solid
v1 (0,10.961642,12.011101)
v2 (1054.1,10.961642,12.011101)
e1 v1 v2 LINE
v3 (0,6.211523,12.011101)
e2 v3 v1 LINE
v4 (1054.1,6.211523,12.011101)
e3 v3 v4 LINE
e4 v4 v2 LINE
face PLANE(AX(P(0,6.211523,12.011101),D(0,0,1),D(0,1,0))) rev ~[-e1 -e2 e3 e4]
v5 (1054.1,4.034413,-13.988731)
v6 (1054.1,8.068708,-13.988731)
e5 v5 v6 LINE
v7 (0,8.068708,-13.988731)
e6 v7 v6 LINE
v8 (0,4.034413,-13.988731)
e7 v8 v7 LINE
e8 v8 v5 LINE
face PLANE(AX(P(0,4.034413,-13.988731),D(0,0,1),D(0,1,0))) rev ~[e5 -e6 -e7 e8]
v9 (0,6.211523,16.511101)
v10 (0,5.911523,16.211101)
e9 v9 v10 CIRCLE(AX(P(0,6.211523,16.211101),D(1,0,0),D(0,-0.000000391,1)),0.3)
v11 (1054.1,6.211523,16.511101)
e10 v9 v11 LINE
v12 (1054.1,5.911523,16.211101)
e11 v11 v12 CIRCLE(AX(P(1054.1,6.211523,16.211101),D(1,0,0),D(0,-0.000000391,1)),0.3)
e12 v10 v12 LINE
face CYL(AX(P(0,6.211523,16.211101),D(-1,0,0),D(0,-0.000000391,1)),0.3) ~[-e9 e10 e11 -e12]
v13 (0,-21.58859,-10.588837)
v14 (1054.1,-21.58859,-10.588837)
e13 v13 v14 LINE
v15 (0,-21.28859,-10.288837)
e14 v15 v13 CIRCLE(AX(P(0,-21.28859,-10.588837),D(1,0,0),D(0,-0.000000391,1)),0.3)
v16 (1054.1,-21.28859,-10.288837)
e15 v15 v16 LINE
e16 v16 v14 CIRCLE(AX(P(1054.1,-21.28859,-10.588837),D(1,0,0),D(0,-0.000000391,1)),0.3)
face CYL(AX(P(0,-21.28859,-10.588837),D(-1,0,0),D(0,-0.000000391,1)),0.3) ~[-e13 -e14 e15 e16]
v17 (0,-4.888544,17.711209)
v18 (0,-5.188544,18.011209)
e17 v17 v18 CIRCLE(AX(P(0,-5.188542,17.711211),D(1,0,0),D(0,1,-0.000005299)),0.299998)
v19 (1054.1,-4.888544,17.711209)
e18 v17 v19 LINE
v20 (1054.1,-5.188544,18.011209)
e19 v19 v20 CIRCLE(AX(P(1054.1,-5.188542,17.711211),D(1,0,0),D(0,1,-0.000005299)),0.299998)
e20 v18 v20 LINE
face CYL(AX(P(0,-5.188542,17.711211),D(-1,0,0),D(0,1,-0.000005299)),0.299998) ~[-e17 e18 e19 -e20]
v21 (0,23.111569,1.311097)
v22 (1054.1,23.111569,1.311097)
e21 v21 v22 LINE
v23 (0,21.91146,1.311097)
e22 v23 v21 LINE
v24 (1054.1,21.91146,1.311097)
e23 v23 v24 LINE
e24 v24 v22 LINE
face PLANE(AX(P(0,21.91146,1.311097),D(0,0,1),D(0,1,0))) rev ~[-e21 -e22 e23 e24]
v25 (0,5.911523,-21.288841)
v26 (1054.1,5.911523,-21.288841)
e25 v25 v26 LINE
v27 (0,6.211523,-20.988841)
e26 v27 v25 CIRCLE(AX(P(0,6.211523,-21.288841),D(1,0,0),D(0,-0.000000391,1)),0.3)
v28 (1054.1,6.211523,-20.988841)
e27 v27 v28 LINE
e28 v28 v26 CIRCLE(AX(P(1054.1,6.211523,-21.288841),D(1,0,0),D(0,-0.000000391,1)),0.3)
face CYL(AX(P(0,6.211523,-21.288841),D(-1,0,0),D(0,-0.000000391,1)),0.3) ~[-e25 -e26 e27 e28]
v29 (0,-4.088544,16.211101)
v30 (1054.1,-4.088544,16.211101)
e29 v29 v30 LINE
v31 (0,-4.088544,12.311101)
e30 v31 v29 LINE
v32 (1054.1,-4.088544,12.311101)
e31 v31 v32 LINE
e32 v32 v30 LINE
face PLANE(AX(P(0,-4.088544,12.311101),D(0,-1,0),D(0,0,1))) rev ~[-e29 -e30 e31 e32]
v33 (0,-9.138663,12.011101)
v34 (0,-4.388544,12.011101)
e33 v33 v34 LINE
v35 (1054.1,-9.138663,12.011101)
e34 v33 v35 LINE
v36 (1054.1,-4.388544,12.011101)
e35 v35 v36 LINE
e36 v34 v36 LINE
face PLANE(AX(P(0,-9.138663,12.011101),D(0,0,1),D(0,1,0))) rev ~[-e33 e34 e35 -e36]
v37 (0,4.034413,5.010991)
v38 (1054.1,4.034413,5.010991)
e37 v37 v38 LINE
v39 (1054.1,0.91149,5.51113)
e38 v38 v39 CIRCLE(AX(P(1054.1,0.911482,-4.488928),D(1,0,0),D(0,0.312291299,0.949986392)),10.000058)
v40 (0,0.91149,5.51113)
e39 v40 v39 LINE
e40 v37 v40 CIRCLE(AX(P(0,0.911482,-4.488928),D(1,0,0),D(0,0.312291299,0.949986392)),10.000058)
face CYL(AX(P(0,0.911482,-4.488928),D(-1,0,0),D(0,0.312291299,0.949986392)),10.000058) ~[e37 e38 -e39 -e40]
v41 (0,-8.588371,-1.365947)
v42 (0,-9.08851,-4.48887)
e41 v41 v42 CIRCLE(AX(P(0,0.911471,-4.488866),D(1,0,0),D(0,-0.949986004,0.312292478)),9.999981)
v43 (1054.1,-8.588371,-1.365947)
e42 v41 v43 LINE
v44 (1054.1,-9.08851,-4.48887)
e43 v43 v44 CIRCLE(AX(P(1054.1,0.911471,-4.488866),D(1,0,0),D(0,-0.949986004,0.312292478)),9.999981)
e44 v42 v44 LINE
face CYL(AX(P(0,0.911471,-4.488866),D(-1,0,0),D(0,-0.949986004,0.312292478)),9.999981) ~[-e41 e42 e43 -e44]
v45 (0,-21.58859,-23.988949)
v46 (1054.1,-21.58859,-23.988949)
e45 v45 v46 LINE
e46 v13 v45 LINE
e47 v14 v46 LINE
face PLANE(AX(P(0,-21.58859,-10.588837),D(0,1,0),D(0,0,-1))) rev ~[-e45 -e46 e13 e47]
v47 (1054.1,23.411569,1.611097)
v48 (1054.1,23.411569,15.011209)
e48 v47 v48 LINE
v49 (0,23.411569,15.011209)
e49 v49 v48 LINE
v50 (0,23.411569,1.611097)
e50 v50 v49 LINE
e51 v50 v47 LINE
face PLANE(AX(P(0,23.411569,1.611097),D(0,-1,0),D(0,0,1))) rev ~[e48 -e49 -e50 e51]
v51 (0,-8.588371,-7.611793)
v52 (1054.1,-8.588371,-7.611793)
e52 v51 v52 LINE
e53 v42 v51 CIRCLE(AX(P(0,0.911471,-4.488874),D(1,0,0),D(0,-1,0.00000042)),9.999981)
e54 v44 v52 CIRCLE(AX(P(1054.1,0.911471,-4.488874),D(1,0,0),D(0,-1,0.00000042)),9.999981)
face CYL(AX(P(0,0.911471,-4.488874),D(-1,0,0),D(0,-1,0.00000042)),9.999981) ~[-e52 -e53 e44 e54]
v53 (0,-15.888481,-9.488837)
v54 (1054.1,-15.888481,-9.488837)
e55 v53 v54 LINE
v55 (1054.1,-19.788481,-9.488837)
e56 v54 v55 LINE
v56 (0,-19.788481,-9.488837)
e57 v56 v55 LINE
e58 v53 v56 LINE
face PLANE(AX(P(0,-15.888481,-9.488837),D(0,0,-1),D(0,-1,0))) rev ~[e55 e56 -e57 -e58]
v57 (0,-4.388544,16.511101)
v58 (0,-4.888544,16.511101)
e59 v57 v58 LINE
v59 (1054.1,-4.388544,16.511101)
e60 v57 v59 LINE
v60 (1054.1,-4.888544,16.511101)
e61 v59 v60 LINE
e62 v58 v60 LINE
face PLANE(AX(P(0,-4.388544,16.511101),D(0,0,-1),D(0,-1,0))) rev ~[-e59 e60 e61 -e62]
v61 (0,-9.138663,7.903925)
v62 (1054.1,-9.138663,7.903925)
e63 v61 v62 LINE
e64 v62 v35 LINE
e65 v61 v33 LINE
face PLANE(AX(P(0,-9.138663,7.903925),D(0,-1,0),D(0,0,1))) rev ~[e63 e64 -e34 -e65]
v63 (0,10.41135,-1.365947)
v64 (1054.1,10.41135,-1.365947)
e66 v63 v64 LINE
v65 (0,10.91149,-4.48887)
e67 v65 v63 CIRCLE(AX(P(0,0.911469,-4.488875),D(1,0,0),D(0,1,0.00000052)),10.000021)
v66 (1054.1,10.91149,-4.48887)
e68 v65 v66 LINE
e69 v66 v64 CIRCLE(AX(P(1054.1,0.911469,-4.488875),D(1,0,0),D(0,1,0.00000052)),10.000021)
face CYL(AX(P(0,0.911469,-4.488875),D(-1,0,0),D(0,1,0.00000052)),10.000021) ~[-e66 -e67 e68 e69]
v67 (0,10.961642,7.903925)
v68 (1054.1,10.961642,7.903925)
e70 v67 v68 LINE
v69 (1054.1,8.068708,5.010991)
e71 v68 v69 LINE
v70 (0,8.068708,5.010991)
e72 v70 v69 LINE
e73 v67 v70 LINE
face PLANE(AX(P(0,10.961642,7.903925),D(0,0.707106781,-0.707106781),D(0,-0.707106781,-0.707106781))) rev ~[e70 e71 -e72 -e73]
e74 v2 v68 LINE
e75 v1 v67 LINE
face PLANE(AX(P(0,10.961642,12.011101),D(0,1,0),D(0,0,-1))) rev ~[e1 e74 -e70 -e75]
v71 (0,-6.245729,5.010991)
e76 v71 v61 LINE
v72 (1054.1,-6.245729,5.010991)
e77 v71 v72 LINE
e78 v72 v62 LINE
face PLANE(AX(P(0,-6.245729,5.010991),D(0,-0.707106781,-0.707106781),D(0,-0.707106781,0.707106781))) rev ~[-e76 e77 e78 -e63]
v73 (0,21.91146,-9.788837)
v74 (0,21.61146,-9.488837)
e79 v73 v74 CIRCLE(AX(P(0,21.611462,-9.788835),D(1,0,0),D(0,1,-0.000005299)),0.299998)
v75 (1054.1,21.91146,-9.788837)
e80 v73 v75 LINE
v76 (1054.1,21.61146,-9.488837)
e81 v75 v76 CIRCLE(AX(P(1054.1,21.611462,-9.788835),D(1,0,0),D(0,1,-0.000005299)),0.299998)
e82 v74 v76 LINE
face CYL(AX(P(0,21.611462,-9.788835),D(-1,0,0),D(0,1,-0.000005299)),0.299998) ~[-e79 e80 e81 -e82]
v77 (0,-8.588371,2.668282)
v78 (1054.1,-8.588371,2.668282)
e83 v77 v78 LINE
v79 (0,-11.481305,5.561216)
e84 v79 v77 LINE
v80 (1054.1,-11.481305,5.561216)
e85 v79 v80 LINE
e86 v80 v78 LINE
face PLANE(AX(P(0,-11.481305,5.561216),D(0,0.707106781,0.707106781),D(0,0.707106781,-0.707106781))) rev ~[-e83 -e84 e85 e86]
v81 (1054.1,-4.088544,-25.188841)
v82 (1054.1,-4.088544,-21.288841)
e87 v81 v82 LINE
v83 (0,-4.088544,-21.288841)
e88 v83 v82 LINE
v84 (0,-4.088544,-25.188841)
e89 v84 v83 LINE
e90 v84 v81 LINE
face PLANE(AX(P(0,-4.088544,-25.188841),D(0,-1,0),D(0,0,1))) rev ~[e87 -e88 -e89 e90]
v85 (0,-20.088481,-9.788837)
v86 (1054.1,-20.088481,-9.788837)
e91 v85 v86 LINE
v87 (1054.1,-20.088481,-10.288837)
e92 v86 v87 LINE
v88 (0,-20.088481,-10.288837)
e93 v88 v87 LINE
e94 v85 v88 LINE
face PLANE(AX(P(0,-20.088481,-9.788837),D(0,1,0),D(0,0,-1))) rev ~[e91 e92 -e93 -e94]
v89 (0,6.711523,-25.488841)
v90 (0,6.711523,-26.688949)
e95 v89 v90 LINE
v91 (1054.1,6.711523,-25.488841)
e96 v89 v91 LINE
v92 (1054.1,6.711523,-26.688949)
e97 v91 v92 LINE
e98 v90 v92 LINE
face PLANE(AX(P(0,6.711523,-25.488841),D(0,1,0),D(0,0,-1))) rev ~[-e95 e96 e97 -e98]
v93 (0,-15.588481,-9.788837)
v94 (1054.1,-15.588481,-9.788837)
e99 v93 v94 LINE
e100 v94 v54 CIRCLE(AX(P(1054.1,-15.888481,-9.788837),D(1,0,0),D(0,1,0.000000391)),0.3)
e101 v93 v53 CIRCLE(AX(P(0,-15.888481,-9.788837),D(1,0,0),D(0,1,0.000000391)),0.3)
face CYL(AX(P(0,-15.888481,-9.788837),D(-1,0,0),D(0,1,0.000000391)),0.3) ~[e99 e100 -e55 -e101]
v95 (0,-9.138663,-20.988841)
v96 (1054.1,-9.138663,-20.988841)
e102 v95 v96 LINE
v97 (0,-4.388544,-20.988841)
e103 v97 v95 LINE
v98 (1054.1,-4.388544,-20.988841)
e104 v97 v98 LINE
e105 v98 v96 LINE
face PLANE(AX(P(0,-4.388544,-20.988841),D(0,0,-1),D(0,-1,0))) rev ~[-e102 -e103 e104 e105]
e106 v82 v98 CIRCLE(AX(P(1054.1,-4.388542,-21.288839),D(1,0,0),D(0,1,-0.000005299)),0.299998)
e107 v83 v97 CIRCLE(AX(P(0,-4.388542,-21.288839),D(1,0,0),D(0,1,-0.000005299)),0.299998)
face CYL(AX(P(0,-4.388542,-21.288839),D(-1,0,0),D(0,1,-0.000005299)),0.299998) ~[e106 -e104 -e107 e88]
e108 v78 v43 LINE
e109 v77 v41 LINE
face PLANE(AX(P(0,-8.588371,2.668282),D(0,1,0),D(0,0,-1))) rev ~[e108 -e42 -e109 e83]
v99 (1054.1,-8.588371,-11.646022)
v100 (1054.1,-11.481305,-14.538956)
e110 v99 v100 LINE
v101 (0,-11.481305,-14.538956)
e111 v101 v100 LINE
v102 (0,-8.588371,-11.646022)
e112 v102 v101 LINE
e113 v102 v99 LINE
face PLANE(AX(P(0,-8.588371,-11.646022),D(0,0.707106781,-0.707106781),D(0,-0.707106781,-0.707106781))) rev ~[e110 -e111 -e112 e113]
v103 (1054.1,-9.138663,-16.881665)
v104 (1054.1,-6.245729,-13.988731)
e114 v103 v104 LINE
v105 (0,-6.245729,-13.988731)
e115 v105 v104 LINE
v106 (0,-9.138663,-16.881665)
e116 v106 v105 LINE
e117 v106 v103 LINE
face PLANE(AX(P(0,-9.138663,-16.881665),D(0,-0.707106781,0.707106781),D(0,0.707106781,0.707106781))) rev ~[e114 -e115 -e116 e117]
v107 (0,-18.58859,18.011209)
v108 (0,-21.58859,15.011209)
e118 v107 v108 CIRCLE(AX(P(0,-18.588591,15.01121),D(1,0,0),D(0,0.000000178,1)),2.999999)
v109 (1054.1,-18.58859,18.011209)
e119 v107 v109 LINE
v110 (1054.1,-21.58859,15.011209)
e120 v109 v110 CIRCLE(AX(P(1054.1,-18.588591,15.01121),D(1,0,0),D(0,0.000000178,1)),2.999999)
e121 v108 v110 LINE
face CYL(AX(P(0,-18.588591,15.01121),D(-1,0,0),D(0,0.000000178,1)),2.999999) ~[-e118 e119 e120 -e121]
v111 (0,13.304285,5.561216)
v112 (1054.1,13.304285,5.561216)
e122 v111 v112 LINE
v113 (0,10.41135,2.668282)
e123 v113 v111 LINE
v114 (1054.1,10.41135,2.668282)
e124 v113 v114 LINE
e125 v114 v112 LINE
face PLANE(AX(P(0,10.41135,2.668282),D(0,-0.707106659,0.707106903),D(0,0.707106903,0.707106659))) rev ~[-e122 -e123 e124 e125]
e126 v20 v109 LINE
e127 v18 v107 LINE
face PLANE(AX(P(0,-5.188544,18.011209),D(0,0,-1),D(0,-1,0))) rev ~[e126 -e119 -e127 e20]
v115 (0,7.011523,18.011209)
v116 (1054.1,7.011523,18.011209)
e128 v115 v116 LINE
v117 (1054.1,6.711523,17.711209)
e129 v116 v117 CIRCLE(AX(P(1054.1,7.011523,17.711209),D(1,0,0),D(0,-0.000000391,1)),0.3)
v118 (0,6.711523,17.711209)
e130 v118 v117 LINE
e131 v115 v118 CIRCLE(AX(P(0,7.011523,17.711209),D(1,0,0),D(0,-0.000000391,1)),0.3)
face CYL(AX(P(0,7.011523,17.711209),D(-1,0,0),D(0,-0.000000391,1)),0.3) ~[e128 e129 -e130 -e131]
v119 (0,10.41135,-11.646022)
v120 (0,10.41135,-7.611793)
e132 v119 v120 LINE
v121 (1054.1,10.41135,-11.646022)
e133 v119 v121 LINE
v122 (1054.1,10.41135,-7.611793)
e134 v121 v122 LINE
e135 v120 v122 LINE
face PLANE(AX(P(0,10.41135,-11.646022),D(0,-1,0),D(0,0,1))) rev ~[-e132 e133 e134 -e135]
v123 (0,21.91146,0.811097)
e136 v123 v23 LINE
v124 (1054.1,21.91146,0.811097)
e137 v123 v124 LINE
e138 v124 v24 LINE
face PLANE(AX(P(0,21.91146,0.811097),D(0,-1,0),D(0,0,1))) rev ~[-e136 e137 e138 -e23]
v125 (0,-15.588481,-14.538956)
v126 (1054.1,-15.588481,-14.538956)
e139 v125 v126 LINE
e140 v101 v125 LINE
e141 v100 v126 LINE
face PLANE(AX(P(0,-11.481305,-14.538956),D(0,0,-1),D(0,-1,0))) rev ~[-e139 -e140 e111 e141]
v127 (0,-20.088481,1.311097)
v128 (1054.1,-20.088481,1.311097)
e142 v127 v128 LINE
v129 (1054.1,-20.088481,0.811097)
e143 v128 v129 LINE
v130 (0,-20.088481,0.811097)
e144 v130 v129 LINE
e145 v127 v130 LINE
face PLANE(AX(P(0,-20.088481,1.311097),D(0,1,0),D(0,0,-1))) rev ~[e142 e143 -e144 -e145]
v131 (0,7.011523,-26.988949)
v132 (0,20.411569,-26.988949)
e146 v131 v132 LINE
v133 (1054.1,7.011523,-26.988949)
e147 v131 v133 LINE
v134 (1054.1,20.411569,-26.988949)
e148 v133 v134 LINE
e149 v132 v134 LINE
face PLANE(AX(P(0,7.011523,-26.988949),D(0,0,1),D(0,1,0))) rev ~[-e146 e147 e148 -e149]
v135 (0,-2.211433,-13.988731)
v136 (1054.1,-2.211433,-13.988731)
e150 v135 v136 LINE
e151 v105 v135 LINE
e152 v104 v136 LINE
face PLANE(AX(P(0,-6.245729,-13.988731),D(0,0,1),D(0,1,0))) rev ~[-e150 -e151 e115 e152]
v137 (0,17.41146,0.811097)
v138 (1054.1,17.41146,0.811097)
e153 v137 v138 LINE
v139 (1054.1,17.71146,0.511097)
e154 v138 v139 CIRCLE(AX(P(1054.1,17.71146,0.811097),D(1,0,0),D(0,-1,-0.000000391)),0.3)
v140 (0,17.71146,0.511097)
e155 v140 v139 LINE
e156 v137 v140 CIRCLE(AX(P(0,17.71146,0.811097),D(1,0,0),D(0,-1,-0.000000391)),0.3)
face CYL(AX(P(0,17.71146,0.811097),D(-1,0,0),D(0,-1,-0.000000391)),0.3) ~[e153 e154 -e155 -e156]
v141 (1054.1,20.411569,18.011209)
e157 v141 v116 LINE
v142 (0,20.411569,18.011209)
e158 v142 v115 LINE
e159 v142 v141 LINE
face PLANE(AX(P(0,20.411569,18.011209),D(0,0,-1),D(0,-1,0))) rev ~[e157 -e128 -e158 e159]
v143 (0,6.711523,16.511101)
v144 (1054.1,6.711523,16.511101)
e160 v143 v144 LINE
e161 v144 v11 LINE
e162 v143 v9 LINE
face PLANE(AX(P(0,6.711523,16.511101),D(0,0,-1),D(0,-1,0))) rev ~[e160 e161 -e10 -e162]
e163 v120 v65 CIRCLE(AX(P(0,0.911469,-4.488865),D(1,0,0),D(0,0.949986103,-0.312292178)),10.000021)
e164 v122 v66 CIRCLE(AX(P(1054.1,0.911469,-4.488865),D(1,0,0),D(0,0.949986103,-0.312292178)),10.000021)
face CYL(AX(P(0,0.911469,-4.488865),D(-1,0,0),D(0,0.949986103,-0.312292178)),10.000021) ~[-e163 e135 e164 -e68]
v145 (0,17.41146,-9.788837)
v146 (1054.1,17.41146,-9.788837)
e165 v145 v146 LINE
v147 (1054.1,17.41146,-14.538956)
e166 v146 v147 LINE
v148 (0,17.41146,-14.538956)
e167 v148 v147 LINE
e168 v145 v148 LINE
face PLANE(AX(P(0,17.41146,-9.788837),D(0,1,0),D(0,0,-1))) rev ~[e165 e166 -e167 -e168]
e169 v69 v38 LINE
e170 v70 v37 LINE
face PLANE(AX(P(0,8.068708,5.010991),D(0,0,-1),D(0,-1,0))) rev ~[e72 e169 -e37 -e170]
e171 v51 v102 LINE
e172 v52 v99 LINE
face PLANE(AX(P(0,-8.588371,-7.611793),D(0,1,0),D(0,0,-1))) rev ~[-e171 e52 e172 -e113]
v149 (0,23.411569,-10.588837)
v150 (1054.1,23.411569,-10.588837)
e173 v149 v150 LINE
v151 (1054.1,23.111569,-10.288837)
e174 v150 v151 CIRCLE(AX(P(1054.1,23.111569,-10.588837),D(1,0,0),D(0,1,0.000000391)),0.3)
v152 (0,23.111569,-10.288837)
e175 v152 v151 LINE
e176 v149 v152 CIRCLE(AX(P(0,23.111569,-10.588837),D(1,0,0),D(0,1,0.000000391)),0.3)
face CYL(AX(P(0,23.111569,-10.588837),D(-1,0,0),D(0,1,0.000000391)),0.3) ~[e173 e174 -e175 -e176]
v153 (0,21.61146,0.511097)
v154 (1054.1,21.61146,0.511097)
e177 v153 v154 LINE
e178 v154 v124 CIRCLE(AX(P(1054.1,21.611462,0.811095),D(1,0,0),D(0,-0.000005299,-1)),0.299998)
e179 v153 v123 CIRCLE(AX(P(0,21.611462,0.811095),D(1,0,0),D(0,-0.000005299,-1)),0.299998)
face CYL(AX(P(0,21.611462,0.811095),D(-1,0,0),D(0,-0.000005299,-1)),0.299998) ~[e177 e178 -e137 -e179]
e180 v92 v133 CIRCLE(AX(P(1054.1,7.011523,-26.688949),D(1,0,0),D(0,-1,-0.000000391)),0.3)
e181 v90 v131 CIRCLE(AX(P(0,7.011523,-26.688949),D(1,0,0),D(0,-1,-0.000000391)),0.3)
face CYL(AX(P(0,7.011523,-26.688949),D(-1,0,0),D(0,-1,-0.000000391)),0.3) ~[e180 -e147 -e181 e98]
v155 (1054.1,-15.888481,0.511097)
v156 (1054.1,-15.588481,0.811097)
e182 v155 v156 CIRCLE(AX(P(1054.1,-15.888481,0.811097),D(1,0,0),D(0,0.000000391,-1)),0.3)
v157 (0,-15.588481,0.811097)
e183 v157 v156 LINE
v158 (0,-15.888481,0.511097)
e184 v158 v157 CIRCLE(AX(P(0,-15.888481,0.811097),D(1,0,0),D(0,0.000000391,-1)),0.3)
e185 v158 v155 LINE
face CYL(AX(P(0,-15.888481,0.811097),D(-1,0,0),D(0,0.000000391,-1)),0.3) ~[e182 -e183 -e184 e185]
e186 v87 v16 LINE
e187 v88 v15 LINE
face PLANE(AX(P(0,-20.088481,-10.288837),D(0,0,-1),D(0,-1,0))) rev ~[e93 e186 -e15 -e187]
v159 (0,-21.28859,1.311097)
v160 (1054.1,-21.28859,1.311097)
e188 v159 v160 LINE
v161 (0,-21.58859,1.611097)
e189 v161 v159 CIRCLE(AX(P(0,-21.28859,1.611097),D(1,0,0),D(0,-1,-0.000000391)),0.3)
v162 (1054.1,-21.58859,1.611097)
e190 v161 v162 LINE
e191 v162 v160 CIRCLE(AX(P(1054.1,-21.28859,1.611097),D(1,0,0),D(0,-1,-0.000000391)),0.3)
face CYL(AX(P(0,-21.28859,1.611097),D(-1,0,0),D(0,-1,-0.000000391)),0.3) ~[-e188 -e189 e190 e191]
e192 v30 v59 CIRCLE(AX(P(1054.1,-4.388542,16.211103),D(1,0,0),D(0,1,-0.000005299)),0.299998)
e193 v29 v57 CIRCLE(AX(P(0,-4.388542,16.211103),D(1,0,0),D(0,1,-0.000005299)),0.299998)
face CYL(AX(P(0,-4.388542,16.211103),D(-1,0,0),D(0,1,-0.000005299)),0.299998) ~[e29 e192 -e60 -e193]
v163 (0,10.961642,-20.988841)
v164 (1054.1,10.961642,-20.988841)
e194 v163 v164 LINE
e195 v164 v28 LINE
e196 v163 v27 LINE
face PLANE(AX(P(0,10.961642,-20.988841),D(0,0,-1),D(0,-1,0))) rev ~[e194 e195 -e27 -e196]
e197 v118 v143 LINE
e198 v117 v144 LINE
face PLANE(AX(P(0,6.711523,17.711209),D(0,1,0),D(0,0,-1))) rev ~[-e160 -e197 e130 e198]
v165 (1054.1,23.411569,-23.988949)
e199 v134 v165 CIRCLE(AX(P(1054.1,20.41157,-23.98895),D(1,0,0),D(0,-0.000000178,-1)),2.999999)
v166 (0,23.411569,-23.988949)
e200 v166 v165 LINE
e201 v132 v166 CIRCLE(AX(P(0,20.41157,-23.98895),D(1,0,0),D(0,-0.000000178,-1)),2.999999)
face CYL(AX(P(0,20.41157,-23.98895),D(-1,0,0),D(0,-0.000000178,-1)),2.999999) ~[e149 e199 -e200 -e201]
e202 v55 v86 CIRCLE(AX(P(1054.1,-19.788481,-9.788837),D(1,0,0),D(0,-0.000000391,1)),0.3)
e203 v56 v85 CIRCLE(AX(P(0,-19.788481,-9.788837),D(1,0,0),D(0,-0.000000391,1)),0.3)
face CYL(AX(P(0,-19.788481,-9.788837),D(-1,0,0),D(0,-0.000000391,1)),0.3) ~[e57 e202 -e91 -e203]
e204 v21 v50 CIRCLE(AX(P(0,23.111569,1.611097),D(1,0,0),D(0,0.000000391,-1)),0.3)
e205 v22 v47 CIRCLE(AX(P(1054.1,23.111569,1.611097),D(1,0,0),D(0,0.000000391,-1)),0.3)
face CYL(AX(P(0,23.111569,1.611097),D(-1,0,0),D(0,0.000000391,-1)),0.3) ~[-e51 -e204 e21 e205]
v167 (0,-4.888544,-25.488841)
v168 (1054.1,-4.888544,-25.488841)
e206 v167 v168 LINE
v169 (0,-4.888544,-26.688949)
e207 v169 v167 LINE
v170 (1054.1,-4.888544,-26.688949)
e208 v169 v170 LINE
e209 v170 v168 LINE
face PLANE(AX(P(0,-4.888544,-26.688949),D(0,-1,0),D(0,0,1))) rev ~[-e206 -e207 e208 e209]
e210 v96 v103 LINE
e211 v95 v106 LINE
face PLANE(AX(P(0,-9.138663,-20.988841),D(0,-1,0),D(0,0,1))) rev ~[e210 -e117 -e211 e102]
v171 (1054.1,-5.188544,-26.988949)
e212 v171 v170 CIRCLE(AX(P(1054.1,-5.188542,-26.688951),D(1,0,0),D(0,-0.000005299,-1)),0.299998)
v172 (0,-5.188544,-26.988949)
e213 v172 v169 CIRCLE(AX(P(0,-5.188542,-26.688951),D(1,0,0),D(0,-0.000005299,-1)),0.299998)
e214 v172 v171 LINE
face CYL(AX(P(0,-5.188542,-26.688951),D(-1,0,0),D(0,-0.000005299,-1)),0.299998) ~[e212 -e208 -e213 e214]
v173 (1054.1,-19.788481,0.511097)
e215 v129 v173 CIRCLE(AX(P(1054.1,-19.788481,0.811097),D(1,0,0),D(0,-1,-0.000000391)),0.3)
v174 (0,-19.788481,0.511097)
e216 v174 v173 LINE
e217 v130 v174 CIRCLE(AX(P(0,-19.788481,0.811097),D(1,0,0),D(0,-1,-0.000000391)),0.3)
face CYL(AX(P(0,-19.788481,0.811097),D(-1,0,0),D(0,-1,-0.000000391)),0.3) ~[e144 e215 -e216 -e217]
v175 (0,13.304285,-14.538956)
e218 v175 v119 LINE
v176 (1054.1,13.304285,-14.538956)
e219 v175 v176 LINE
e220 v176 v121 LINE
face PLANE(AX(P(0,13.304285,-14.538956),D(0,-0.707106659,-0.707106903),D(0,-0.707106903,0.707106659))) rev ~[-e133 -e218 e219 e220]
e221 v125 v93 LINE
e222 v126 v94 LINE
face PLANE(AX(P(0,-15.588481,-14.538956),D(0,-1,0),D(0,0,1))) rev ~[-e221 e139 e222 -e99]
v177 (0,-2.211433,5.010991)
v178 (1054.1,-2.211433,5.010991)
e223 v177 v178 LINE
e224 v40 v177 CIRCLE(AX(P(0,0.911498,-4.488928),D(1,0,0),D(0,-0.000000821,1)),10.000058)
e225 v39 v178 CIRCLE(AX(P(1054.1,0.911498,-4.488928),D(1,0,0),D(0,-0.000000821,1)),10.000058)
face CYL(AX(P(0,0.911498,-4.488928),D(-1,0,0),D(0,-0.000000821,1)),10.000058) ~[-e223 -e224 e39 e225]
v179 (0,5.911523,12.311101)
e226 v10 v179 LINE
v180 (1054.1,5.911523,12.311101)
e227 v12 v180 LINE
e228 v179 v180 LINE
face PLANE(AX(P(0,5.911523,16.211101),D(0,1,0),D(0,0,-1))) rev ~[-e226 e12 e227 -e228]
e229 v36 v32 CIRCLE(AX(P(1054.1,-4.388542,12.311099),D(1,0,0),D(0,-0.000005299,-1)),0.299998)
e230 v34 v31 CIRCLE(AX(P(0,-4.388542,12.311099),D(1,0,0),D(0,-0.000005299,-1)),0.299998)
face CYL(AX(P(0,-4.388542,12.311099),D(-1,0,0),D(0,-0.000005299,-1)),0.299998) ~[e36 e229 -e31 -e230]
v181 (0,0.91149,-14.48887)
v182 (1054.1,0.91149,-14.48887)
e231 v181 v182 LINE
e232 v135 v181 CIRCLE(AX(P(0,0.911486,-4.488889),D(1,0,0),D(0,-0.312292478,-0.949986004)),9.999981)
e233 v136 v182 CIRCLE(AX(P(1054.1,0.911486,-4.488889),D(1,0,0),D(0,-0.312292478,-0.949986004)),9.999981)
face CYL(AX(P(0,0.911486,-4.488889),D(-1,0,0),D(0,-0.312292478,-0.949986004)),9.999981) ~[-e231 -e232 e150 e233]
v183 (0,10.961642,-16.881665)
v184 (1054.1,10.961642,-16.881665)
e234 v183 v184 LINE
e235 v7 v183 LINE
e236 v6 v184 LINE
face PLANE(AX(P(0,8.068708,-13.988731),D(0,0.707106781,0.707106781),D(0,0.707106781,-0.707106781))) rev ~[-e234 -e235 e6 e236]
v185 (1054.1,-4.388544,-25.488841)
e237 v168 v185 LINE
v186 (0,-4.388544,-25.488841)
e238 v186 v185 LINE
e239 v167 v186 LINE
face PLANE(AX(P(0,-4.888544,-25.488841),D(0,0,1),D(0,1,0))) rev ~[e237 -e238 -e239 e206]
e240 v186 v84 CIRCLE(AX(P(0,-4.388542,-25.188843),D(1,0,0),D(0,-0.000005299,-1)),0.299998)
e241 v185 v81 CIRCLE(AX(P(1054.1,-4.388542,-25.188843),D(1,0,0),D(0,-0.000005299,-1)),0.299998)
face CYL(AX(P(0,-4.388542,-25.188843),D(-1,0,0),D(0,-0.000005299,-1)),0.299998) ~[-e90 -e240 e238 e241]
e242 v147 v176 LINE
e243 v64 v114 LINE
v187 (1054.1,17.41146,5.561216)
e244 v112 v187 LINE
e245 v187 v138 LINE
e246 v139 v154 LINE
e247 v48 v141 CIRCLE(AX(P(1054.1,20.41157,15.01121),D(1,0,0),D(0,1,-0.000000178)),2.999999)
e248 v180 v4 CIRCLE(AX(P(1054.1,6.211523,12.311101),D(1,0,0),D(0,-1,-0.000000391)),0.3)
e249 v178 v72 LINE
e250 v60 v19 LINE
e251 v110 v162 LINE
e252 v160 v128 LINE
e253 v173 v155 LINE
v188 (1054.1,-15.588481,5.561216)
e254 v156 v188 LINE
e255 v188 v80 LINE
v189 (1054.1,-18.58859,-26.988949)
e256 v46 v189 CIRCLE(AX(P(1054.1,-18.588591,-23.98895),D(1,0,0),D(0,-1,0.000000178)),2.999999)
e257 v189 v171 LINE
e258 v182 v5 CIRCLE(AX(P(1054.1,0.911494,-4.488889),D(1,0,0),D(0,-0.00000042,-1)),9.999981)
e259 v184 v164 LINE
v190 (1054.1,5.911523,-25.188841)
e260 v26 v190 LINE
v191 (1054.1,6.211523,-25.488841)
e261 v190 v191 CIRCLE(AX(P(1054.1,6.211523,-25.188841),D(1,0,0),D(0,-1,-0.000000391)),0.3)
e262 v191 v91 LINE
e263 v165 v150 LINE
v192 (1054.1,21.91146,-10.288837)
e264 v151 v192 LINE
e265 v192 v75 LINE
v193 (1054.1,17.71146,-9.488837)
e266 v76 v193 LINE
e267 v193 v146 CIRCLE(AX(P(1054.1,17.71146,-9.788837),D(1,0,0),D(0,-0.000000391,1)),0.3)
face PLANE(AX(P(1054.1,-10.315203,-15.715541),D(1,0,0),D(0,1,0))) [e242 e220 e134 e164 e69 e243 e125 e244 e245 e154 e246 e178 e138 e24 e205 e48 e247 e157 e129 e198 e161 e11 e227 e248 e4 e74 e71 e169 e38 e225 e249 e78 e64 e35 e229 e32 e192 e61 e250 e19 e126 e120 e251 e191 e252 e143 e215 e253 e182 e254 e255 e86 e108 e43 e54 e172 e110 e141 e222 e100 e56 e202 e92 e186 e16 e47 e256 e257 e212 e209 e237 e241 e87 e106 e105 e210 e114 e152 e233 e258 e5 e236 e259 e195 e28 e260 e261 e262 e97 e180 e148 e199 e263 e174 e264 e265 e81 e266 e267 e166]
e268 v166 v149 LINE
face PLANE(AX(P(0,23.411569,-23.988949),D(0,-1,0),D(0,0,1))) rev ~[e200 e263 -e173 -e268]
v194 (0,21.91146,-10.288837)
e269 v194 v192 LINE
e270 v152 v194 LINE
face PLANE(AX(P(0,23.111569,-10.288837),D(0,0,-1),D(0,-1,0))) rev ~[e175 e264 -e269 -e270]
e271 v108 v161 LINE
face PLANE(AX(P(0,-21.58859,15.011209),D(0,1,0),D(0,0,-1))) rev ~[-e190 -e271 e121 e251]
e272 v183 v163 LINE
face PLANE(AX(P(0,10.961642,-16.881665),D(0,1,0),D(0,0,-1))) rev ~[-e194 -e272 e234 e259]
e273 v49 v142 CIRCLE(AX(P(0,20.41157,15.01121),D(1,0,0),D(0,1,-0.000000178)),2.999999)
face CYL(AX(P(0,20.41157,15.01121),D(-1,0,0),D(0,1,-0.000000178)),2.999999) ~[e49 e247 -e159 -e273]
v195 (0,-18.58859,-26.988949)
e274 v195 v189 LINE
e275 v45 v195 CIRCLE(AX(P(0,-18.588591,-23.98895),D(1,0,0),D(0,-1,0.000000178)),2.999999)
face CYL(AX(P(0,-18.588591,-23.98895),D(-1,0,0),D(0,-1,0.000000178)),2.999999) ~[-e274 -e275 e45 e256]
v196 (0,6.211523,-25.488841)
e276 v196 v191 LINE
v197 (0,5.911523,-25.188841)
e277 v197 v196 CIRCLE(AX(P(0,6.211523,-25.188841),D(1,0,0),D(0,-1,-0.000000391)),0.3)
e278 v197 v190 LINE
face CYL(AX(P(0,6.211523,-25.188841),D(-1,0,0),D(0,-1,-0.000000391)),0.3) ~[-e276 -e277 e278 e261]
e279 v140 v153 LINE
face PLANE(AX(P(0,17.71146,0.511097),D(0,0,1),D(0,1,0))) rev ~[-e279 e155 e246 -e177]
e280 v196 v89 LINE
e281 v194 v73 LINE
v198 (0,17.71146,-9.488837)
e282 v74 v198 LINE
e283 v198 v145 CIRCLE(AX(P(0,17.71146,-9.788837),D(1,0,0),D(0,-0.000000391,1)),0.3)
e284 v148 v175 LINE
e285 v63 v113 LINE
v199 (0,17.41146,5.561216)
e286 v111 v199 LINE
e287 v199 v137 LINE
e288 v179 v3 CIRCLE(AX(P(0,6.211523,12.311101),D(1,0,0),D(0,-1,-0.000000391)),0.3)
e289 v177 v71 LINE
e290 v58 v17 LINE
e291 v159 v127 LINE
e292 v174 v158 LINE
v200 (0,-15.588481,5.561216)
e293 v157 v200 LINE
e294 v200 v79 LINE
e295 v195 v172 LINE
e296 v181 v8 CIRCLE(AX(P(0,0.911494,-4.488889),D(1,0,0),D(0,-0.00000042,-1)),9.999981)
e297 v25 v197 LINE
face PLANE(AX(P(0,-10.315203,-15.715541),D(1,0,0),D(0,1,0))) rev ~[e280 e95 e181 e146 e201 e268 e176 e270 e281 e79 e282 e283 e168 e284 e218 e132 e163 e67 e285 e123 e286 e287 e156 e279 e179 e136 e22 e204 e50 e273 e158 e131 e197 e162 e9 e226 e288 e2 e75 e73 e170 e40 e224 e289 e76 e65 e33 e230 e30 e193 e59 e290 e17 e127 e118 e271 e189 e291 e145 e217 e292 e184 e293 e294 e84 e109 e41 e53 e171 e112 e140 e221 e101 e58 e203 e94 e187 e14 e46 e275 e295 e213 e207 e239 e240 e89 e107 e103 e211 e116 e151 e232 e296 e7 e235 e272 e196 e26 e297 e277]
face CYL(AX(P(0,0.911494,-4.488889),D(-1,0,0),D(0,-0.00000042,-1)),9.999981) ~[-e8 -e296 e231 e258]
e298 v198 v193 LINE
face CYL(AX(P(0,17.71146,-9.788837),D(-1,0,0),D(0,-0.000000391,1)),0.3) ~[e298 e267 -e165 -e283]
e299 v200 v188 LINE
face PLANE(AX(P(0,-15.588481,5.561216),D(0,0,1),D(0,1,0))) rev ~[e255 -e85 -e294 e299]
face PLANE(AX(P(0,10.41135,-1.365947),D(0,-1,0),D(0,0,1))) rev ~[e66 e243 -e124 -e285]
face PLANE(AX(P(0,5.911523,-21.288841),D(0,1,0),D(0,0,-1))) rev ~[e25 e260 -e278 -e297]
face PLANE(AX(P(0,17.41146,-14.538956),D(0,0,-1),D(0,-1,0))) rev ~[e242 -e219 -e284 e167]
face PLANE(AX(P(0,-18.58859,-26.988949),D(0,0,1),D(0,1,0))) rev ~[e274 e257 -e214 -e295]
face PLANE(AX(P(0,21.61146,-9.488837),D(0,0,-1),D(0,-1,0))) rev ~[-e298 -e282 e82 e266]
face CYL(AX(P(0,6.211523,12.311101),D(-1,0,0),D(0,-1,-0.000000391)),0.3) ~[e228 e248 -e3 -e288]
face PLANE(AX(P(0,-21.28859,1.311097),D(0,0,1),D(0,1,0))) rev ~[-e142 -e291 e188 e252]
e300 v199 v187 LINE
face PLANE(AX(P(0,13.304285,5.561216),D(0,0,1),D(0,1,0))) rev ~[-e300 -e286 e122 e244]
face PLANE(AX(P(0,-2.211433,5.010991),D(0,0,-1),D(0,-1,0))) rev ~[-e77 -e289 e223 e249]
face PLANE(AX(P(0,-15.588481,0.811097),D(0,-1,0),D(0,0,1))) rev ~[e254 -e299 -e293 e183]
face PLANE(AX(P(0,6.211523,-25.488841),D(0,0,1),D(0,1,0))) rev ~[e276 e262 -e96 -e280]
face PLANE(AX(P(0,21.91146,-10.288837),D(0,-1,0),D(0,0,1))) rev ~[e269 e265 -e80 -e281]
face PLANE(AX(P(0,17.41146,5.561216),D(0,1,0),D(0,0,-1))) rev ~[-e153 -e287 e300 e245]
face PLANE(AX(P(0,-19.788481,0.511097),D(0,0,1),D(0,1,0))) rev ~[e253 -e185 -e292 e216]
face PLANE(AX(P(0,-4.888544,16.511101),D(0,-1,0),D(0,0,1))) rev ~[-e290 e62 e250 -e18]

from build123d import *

# Parameters (mm, degrees)
F1_DEPTH = 1054.1


with BuildPart() as f1:
    # F0 (on Right) → F1 (new body)
    with BuildSketch(Plane.YZ):
        with BuildLine():
            Line((-20.088481, -9.788837), (-20.088481, -10.288837))
            Line((-20.088481, -10.288837), (-21.28859, -10.288837))
            ThreePointArc((-21.28859, -10.288837), (-21.500722, -10.376705), (-21.58859, -10.588837))
            Line((-21.58859, -10.588837), (-21.58859, -23.988949))
            ThreePointArc((-21.58859, -23.988949), (-20.70991, -26.11027), (-18.58859, -26.988949))
            Line((-18.58859, -26.988949), (-5.188544, -26.988949))
            ThreePointArc((-5.188544, -26.988949), (-4.976411, -26.901081), (-4.888544, -26.688949))
            Line((-4.888544, -26.688949), (-4.888544, -25.488841))
            Line((-4.888544, -25.488841), (-4.388544, -25.488841))
            ThreePointArc((-4.388544, -25.488841), (-4.176411, -25.400973), (-4.088544, -25.188841))
            Line((-4.088544, -25.188841), (-4.088544, -21.288841))
            ThreePointArc((-4.088544, -21.288841), (-4.176411, -21.076709), (-4.388544, -20.988841))
            Line((-4.388544, -20.988841), (-9.138663, -20.988841))
            Line((-9.138663, -20.988841), (-9.138663, -16.881665))
            Line((-9.138663, -16.881665), (-6.245729, -13.988731))
            Line((-6.245729, -13.988731), (-2.211433, -13.988731))
            ThreePointArc((-2.211433, -13.988731), (-0.669869, -14.363044), (0.91149, -14.48887))
            Line((0.91149, -14.48887), (0.91149, -4.48887))
            Line((0.91149, -4.48887), (-9.08851, -4.48887))
            ThreePointArc((-9.08851, -4.48887), (-8.962684, -6.070229), (-8.588371, -7.611793))
            Line((-8.588371, -7.611793), (-8.588371, -11.646022))
            Line((-8.588371, -11.646022), (-11.481305, -14.538956))
            Line((-11.481305, -14.538956), (-15.588481, -14.538956))
            Line((-15.588481, -14.538956), (-15.588481, -9.788837))
            ThreePointArc((-15.588481, -9.788837), (-15.676349, -9.576705), (-15.888481, -9.488837))
            Line((-15.888481, -9.488837), (-19.788481, -9.488837))
            ThreePointArc((-19.788481, -9.488837), (-20.000613, -9.576705), (-20.088481, -9.788837))
        make_face()
        with BuildLine():
            ThreePointArc((-8.588371, -1.365947), (-8.962684, -2.907511), (-9.08851, -4.48887))
            Line((-9.08851, -4.48887), (0.91149, -4.48887))
            Line((0.91149, -4.48887), (0.91149, 5.51113))
            ThreePointArc((0.91149, 5.51113), (-0.669869, 5.385303), (-2.211433, 5.010991))
            Line((-2.211433, 5.010991), (-6.245729, 5.010991))
            Line((-6.245729, 5.010991), (-9.138663, 7.903925))
            Line((-9.138663, 7.903925), (-9.138663, 12.011101))
            Line((-9.138663, 12.011101), (-4.388544, 12.011101))
            ThreePointArc((-4.388544, 12.011101), (-4.176411, 12.098969), (-4.088544, 12.311101))
            Line((-4.088544, 12.311101), (-4.088544, 16.211101))
            ThreePointArc((-4.088544, 16.211101), (-4.176411, 16.423233), (-4.388544, 16.511101))
            Line((-4.388544, 16.511101), (-4.888544, 16.511101))
            Line((-4.888544, 16.511101), (-4.888544, 17.711209))
            ThreePointArc((-4.888544, 17.711209), (-4.976411, 17.923341), (-5.188544, 18.011209))
            Line((-5.188544, 18.011209), (-18.58859, 18.011209))
            ThreePointArc((-18.58859, 18.011209), (-20.70991, 17.13253), (-21.58859, 15.011209))
            Line((-21.58859, 15.011209), (-21.58859, 1.611097))
            ThreePointArc((-21.58859, 1.611097), (-21.500722, 1.398965), (-21.28859, 1.311097))
            Line((-21.28859, 1.311097), (-20.088481, 1.311097))
            Line((-20.088481, 1.311097), (-20.088481, 0.811097))
            ThreePointArc((-20.088481, 0.811097), (-20.000613, 0.598965), (-19.788481, 0.511097))
            Line((-19.788481, 0.511097), (-15.888481, 0.511097))
            ThreePointArc((-15.888481, 0.511097), (-15.676349, 0.598965), (-15.588481, 0.811097))
            Line((-15.588481, 0.811097), (-15.588481, 5.561216))
            Line((-15.588481, 5.561216), (-11.481305, 5.561216))
            Line((-11.481305, 5.561216), (-8.588371, 2.668282))
            Line((-8.588371, 2.668282), (-8.588371, -1.365947))
        make_face()
        with BuildLine():
            Line((0.91149, 5.51113), (0.91149, -4.48887))
            Line((0.91149, -4.48887), (10.91149, -4.48887))
            ThreePointArc((10.91149, -4.48887), (10.785663, -2.907511), (10.41135, -1.365947))
            Line((10.41135, -1.365947), (10.41135, 2.668282))
            Line((10.41135, 2.668282), (13.304285, 5.561216))
            Line((13.304285, 5.561216), (14.016842, 5.561216))
            Line((14.016842, 5.561216), (17.41146, 5.561216))
            Line((17.41146, 5.561216), (17.41146, 0.811097))
            ThreePointArc((17.41146, 0.811097), (17.499328, 0.598965), (17.71146, 0.511097))
            Line((17.71146, 0.511097), (21.61146, 0.511097))
            ThreePointArc((21.61146, 0.511097), (21.823593, 0.598965), (21.91146, 0.811097))
            Line((21.91146, 0.811097), (21.91146, 1.311097))
            Line((21.91146, 1.311097), (23.111569, 1.311097))
            ThreePointArc((23.111569, 1.311097), (23.323701, 1.398965), (23.411569, 1.611097))
            Line((23.411569, 1.611097), (23.411569, 15.011209))
            ThreePointArc((23.411569, 15.011209), (22.532889, 17.13253), (20.411569, 18.011209))
            Line((20.411569, 18.011209), (7.011523, 18.011209))
            ThreePointArc((7.011523, 18.011209), (6.799391, 17.923341), (6.711523, 17.711209))
            Line((6.711523, 17.711209), (6.711523, 16.511101))
            Line((6.711523, 16.511101), (6.211523, 16.511101))
            ThreePointArc((6.211523, 16.511101), (5.999391, 16.423233), (5.911523, 16.211101))
            Line((5.911523, 16.211101), (5.911523, 12.311101))
            ThreePointArc((5.911523, 12.311101), (5.999391, 12.098969), (6.211523, 12.011101))
            Line((6.211523, 12.011101), (10.961642, 12.011101))
            Line((10.961642, 12.011101), (10.961642, 7.903925))
            Line((10.961642, 7.903925), (8.068708, 5.010991))
            Line((8.068708, 5.010991), (4.034413, 5.010991))
            ThreePointArc((4.034413, 5.010991), (2.492849, 5.385303), (0.91149, 5.51113))
        make_face()
        with BuildLine():
            Line((10.91149, -4.48887), (0.91149, -4.48887))
            Line((0.91149, -4.48887), (0.91149, -14.48887))
            ThreePointArc((0.91149, -14.48887), (2.492849, -14.363044), (4.034413, -13.988731))
            Line((4.034413, -13.988731), (8.068708, -13.988731))
            Line((8.068708, -13.988731), (10.961642, -16.881665))
            Line((10.961642, -16.881665), (10.961642, -20.988841))
            Line((10.961642, -20.988841), (6.211523, -20.988841))
            ThreePointArc((6.211523, -20.988841), (5.999391, -21.076709), (5.911523, -21.288841))
            Line((5.911523, -21.288841), (5.911523, -25.188841))
            ThreePointArc((5.911523, -25.188841), (5.999391, -25.400973), (6.211523, -25.488841))
            Line((6.211523, -25.488841), (6.711523, -25.488841))
            Line((6.711523, -25.488841), (6.711523, -26.688949))
            ThreePointArc((6.711523, -26.688949), (6.799391, -26.901081), (7.011523, -26.988949))
            Line((7.011523, -26.988949), (20.411569, -26.988949))
            ThreePointArc((20.411569, -26.988949), (22.532889, -26.11027), (23.411569, -23.988949))
            Line((23.411569, -23.988949), (23.411569, -10.588837))
            ThreePointArc((23.411569, -10.588837), (23.323701, -10.376705), (23.111569, -10.288837))
            Line((23.111569, -10.288837), (21.91146, -10.288837))
            Line((21.91146, -10.288837), (21.91146, -9.788837))
            ThreePointArc((21.91146, -9.788837), (21.823593, -9.576705), (21.61146, -9.488837))
            Line((21.61146, -9.488837), (17.71146, -9.488837))
            ThreePointArc((17.71146, -9.488837), (17.499328, -9.576705), (17.41146, -9.788837))
            Line((17.41146, -9.788837), (17.41146, -14.538956))
            Line((17.41146, -14.538956), (13.304285, -14.538956))
            Line((13.304285, -14.538956), (10.41135, -11.646022))
            Line((10.41135, -11.646022), (10.41135, -7.611793))
            ThreePointArc((10.41135, -7.611793), (10.785663, -6.070229), (10.91149, -4.48887))
        make_face()
    extrude(amount=F1_DEPTH)


solid = f1.part
